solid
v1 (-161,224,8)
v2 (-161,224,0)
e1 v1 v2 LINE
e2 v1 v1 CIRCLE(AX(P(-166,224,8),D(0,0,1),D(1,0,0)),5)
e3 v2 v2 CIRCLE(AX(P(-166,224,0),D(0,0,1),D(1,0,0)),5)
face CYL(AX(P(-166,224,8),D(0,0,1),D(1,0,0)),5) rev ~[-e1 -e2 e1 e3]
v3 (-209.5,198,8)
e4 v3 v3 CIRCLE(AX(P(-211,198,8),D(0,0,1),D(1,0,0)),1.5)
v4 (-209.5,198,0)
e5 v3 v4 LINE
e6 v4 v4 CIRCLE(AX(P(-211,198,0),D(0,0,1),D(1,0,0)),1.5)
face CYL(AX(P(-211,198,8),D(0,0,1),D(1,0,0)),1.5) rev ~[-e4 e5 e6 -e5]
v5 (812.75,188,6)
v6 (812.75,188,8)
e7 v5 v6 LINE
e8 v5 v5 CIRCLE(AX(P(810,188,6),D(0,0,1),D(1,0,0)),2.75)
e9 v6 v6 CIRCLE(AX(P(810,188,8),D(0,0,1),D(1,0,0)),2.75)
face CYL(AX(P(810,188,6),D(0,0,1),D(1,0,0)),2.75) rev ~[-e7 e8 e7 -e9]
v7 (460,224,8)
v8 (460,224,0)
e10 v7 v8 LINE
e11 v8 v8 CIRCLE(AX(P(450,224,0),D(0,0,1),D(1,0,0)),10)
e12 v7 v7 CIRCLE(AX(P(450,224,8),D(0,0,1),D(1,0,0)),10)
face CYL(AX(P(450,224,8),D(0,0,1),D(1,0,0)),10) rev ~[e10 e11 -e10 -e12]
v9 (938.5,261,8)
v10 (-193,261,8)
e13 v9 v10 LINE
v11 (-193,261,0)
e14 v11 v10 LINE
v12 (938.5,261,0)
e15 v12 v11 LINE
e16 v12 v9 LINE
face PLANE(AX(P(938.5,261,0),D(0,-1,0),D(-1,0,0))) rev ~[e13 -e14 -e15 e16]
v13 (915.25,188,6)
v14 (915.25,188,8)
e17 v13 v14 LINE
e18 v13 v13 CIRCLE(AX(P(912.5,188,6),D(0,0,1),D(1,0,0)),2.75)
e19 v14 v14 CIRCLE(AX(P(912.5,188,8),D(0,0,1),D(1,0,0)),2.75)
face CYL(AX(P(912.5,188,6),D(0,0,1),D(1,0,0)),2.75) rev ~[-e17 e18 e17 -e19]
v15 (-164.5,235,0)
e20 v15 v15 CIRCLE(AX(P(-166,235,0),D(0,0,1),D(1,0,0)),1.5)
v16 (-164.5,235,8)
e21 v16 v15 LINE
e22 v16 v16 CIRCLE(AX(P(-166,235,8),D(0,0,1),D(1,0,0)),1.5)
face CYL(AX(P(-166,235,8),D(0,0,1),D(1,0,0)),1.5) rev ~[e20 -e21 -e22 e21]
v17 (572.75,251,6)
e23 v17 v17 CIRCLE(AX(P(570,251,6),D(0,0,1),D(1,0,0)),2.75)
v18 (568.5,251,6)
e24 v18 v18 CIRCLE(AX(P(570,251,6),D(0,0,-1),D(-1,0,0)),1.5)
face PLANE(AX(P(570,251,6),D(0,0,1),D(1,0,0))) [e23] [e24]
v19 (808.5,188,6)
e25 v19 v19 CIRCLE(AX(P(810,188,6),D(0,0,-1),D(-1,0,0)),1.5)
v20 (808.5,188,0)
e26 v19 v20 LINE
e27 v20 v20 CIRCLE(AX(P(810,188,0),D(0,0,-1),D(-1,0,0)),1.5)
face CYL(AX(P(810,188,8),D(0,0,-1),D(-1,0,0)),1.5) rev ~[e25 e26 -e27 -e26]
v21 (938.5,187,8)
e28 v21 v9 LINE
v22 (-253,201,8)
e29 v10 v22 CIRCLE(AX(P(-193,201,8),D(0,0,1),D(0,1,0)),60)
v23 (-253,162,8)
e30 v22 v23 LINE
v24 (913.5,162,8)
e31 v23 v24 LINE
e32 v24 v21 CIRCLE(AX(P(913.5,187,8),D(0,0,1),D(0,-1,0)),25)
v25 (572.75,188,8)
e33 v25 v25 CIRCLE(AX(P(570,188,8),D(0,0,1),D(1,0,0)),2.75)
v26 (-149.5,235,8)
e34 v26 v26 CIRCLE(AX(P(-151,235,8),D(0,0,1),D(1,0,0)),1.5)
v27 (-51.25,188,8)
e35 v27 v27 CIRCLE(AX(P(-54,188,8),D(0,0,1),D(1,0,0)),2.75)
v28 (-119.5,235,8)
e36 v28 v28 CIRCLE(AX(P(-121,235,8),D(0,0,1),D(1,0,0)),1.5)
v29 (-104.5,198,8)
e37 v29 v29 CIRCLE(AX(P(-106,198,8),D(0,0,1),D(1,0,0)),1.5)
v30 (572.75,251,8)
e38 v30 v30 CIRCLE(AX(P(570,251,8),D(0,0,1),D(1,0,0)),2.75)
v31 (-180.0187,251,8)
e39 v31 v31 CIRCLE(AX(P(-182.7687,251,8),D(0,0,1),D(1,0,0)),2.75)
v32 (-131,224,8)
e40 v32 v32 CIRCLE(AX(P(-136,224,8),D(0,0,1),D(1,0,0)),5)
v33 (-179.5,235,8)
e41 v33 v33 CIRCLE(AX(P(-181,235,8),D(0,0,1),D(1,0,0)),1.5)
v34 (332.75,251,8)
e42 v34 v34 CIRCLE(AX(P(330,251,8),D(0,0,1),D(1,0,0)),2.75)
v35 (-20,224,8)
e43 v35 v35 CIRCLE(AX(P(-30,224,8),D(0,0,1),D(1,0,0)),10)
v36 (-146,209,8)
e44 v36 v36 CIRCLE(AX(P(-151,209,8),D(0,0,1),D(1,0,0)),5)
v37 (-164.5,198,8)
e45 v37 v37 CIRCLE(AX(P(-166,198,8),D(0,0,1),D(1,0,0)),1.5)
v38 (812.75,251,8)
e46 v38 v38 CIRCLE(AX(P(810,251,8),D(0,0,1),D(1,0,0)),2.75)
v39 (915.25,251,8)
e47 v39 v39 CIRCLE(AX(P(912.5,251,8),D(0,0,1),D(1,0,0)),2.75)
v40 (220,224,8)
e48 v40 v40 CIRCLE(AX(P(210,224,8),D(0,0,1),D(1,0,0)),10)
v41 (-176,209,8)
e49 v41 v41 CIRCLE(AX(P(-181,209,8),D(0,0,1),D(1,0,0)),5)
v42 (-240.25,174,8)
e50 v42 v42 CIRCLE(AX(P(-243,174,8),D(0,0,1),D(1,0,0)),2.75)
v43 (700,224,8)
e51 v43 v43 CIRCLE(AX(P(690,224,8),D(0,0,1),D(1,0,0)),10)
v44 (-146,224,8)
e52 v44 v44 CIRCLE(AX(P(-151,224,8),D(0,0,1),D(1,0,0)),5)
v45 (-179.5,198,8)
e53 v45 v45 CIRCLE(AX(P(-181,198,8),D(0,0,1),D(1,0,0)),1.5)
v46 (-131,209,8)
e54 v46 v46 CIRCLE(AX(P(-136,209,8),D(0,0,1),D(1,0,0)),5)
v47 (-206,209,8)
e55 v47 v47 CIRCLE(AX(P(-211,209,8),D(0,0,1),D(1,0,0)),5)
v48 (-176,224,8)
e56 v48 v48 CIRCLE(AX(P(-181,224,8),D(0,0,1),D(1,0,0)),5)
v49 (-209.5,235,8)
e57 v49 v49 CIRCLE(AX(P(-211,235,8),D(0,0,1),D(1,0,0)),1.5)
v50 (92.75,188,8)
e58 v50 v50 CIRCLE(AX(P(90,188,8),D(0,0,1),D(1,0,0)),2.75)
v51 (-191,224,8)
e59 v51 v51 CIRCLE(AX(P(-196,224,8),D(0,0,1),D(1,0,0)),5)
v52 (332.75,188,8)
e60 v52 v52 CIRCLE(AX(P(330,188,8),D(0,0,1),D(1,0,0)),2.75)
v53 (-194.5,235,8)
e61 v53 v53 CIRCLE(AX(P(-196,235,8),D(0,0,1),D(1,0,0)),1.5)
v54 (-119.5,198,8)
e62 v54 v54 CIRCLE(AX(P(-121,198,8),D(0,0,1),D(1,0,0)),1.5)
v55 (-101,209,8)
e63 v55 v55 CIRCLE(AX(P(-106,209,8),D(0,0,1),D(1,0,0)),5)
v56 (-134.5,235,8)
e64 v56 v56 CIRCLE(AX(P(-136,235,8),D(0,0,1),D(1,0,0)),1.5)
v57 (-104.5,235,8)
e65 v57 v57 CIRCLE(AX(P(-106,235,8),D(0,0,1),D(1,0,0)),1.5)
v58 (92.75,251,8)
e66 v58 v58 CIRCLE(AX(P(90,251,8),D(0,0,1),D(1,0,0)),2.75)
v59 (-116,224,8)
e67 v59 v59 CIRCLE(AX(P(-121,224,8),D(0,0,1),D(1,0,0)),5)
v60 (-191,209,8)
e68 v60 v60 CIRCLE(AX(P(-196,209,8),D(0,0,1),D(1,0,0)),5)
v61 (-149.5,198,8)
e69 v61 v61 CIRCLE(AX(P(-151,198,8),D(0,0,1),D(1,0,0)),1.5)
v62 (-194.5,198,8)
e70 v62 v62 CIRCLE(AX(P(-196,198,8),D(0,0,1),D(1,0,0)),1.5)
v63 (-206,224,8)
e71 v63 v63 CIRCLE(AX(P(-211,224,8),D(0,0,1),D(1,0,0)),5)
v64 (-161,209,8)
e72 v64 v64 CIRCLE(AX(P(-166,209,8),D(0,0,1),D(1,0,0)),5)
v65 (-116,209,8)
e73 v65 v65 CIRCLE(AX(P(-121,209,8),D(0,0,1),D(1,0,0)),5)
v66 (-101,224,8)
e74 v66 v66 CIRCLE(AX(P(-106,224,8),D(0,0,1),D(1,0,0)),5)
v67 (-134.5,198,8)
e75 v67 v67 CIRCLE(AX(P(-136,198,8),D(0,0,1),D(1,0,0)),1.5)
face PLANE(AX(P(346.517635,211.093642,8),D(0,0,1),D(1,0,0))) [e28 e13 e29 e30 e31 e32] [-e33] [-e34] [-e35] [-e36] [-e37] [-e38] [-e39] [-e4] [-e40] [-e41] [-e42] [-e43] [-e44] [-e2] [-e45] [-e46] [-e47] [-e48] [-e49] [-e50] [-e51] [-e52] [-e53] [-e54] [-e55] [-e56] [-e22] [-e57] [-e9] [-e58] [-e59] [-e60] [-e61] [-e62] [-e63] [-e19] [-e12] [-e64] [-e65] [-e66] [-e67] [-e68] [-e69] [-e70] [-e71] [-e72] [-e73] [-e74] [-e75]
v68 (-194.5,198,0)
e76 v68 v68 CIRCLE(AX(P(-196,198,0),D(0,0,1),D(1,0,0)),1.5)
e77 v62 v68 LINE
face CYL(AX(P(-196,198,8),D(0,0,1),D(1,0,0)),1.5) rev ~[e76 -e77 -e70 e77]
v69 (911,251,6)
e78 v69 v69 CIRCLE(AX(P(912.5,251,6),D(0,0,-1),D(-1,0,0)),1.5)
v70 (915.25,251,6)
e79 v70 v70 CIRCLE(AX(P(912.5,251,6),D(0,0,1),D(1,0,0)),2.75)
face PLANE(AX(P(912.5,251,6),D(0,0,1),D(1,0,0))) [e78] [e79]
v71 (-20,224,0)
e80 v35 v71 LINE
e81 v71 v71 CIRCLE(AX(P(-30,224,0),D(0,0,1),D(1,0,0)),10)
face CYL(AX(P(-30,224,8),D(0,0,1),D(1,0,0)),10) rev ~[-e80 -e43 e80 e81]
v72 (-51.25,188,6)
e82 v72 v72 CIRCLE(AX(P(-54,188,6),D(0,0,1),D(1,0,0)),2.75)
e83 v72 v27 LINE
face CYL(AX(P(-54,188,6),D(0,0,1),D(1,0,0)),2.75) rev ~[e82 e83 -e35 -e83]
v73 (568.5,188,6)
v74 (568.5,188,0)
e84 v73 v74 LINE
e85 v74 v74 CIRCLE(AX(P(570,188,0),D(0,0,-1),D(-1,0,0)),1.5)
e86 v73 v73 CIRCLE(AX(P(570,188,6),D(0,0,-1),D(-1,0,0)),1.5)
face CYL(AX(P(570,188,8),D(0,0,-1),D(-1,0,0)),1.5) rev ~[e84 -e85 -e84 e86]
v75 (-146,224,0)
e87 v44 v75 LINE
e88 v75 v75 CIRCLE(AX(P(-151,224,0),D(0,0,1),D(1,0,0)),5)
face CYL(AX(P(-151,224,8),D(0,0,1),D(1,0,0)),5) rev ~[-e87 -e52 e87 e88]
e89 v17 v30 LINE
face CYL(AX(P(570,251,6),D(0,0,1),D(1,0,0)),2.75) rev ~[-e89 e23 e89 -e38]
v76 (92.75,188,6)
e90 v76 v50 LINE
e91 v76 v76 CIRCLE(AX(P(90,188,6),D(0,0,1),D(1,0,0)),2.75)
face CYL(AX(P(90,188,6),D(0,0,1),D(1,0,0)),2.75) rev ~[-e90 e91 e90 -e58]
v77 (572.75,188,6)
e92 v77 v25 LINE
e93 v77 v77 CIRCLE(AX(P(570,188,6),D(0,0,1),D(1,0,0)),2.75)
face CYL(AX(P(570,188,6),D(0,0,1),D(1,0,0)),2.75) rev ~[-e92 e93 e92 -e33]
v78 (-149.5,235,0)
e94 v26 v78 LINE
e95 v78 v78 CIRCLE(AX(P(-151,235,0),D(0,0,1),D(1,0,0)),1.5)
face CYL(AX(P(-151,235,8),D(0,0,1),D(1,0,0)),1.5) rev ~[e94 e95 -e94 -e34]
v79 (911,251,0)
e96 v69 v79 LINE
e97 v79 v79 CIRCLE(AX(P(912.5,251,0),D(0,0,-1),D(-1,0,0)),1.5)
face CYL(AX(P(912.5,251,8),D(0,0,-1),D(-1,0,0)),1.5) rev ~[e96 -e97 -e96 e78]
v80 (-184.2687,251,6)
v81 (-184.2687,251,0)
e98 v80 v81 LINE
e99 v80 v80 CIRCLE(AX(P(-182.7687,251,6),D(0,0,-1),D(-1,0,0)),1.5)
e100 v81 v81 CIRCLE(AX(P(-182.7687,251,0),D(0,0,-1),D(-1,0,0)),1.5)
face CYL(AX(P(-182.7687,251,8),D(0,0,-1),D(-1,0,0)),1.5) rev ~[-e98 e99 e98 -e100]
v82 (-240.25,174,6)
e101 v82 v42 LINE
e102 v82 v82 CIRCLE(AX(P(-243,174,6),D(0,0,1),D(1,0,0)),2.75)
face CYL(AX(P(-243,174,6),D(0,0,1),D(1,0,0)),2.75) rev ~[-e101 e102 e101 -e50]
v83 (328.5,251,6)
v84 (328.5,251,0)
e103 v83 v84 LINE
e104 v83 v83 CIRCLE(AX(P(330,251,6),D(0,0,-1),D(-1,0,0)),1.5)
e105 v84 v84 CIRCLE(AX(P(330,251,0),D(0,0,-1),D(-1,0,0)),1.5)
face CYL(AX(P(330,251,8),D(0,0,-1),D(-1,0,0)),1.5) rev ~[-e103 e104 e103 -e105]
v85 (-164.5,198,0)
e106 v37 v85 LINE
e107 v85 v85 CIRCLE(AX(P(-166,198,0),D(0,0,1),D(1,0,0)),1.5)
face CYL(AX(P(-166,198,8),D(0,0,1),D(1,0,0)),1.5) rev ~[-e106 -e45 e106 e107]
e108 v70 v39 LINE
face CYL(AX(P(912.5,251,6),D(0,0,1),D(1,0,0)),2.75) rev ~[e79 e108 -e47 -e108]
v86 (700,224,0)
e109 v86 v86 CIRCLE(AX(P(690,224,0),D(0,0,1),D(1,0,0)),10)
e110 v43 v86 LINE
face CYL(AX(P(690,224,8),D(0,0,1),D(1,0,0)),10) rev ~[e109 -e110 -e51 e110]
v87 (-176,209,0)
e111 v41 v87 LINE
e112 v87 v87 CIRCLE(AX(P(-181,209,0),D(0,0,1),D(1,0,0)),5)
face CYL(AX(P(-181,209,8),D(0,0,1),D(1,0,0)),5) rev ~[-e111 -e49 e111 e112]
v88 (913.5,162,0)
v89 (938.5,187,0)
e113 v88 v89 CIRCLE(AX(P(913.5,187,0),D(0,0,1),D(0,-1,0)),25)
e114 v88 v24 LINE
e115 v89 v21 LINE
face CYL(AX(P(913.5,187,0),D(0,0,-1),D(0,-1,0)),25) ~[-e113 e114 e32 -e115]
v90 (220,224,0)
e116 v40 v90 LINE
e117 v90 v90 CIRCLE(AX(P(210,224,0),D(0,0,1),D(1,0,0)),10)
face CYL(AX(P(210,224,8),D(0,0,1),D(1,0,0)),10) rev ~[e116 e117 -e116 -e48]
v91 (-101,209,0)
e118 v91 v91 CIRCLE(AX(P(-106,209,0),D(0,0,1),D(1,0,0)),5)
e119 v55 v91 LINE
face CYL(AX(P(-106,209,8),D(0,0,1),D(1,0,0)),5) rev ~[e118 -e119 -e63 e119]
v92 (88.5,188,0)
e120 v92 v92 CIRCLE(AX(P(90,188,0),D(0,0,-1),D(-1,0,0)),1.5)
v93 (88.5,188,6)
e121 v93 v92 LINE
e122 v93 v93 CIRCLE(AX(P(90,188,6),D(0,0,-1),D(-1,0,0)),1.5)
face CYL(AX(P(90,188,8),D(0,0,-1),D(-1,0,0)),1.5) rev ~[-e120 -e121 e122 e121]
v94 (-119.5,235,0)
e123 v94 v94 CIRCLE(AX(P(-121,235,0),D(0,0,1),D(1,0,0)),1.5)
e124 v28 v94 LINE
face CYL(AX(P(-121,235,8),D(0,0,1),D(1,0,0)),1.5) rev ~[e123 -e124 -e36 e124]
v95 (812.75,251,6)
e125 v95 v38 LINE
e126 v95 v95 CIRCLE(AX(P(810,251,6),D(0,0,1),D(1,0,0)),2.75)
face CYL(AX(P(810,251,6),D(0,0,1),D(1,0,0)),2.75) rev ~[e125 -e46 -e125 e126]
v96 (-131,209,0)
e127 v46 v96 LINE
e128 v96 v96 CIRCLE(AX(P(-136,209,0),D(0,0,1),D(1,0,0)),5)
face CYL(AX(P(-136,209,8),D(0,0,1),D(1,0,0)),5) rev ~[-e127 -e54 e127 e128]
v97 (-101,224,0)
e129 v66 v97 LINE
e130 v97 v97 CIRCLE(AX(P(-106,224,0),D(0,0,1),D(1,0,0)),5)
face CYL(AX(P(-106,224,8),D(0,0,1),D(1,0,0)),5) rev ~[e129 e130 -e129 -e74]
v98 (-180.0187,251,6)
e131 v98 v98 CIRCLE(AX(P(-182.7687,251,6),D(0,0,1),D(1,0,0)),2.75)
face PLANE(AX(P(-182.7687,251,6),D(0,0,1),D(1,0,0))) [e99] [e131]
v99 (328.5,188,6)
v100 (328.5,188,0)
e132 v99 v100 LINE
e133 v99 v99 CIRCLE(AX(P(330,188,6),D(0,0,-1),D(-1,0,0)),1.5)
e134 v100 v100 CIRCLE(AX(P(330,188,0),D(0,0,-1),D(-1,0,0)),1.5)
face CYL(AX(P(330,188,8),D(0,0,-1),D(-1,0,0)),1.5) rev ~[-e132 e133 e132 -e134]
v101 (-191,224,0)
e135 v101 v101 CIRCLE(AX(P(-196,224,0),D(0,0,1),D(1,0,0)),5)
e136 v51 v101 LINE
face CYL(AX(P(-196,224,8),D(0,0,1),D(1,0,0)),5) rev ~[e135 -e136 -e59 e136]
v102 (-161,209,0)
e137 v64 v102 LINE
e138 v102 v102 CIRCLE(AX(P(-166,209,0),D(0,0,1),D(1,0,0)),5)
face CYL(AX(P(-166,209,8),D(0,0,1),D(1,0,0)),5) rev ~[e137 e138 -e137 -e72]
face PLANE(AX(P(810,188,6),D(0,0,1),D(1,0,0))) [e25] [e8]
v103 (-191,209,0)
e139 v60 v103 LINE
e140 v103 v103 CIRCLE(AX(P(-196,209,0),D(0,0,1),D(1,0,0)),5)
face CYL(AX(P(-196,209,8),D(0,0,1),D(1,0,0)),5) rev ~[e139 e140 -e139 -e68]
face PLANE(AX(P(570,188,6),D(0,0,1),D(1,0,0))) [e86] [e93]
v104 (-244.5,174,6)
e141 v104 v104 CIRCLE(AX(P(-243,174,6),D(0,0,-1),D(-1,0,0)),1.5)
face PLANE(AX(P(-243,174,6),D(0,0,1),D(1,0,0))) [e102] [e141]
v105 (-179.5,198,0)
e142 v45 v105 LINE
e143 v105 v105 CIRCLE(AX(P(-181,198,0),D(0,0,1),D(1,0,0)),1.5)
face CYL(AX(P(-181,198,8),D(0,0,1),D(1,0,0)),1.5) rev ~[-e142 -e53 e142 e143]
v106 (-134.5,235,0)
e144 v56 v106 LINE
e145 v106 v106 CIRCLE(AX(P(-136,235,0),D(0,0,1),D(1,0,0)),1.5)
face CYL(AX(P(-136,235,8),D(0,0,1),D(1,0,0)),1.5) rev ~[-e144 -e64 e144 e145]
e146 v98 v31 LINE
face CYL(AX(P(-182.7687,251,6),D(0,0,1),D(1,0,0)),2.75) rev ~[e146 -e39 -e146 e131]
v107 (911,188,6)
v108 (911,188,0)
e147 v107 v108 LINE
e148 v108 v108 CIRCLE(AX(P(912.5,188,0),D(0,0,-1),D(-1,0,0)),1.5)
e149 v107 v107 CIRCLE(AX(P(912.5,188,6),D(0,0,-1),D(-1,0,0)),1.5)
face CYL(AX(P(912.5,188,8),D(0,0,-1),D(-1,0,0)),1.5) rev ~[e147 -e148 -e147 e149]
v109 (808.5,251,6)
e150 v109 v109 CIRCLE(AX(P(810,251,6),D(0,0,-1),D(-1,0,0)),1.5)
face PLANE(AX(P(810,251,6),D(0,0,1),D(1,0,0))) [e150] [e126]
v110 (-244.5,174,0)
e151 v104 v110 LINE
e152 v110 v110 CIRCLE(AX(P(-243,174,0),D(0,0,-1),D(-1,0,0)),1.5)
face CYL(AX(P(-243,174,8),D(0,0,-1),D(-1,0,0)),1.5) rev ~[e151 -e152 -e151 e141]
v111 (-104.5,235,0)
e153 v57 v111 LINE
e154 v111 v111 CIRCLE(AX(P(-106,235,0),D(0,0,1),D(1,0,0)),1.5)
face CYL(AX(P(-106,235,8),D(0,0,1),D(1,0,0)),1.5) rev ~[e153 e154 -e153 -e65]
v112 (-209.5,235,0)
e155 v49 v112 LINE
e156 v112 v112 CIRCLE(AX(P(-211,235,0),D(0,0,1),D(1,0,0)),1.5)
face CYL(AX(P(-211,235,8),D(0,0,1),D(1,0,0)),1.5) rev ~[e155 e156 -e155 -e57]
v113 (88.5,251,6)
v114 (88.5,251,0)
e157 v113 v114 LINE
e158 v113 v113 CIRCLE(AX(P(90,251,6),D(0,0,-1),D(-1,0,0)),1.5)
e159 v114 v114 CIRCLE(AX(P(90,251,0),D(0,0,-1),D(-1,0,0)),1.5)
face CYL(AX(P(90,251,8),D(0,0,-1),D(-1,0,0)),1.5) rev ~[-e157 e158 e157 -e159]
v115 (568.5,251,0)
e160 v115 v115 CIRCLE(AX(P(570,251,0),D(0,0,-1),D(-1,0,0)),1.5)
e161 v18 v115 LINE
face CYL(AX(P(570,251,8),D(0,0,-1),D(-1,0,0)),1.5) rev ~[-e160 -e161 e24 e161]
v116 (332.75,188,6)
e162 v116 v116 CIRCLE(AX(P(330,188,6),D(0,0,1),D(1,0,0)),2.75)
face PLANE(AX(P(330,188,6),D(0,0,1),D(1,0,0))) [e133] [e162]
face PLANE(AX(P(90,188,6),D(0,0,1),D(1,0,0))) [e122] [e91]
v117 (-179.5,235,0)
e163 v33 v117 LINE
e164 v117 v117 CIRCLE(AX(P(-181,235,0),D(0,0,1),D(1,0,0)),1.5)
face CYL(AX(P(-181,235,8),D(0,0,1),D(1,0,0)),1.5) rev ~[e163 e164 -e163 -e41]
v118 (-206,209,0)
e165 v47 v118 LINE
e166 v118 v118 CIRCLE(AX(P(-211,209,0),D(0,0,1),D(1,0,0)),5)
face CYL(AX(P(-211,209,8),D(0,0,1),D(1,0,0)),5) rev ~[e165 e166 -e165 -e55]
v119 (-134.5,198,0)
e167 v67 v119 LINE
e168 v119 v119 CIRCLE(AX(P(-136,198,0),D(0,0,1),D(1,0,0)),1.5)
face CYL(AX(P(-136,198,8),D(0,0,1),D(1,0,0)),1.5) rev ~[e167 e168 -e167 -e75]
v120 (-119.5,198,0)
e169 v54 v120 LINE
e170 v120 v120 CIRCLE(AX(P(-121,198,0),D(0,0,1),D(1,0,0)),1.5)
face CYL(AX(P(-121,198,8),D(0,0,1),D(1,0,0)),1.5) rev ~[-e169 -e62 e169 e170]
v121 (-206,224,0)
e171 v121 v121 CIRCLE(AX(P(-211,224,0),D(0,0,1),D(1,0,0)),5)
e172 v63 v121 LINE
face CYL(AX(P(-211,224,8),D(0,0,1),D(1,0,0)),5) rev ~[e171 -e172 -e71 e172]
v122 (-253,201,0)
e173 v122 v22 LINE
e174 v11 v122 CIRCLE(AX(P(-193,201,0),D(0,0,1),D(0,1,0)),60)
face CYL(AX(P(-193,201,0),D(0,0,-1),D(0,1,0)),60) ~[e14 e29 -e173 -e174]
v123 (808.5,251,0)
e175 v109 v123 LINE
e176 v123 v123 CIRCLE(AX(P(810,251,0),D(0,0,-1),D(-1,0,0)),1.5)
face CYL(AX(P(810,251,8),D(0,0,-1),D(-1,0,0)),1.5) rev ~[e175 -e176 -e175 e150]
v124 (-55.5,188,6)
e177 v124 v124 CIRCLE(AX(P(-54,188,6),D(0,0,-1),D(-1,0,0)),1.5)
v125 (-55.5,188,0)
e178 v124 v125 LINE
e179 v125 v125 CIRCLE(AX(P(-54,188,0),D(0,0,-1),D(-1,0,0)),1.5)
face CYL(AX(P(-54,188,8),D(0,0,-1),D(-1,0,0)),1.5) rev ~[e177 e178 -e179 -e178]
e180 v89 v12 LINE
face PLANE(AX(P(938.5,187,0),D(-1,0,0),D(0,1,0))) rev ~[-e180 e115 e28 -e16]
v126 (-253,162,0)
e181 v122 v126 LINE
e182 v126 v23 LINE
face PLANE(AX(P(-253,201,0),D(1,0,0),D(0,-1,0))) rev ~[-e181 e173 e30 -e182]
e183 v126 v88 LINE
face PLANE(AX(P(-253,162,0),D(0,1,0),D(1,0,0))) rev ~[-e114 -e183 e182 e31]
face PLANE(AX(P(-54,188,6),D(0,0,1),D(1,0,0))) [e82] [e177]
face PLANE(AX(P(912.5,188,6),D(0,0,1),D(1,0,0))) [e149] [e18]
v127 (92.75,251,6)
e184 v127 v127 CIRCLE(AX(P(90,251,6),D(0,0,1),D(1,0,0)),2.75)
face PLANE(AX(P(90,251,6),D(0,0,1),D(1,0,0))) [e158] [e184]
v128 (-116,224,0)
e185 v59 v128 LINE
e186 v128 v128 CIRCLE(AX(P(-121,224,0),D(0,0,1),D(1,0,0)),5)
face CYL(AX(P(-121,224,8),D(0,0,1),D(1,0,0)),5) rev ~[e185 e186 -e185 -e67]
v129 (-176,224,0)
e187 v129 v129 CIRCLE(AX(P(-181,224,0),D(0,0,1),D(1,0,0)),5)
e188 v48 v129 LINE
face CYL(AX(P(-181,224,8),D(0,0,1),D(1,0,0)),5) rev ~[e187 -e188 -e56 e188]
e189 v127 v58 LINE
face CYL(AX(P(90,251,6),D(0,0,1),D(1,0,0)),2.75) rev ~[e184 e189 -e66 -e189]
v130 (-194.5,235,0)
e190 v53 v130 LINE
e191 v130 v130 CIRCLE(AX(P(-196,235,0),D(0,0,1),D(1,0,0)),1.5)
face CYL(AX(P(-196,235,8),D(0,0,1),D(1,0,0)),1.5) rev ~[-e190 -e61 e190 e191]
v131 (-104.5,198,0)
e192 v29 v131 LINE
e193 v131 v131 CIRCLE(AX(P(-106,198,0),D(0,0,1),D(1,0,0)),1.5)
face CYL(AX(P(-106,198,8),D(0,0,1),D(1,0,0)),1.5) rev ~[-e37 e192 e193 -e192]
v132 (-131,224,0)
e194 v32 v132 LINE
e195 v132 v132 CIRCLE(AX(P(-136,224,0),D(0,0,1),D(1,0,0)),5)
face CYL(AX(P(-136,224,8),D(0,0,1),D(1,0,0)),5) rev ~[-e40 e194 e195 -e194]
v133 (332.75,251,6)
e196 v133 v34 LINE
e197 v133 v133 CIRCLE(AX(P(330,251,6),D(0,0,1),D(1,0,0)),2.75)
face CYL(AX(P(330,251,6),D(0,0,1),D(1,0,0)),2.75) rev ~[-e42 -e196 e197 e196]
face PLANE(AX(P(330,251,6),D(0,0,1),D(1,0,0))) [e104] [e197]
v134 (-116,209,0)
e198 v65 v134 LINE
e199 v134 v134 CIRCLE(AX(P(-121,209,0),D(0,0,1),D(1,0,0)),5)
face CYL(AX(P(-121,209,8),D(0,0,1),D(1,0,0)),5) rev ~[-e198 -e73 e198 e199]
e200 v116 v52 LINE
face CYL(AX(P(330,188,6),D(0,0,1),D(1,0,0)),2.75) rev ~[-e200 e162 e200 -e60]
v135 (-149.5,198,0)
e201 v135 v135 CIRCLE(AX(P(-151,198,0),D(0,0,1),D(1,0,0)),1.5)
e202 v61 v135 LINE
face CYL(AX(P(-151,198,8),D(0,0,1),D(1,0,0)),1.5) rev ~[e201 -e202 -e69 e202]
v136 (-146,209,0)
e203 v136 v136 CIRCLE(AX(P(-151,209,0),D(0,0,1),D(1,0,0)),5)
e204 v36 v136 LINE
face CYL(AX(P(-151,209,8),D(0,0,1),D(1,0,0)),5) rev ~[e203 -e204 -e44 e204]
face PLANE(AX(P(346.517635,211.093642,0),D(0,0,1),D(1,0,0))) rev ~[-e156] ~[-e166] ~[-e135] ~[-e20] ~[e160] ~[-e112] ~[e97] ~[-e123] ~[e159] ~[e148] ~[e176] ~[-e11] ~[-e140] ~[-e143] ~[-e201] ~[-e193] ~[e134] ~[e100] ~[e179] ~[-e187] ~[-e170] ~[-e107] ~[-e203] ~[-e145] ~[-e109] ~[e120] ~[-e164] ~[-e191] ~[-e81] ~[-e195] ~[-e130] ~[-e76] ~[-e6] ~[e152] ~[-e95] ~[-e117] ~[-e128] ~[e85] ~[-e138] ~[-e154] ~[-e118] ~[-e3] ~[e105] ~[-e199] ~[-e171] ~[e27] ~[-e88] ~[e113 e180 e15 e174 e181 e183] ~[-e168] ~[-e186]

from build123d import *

# Parameters (mm, degrees)
BOSS_EXTRU_1_DEPTH                                 = 8
ESQUISSE3_R                                        = 1.5
ESQUISSE3_R_2                                      = 5
ENL_V_MAT_EXTRU_1_DEPTH                            = 9
ESQUISSE4_R                                        = 10
ENL_V_MAT_EXTRU_2_DEPTH                            = 9
CHAMBRAGE_POUR_VIS_T_TE_CYLINDRIQUE_CO_D           = 3
CHAMBRAGE_POUR_VIS_T_TE_CYLINDRIQUE_CO_CBORE_D     = 5.5
CHAMBRAGE_POUR_VIS_T_TE_CYLINDRIQUE_CO_CBORE_DEPTH = 2


with BuildPart() as part:
    # Esquisse1 → Boss.-Extru.1 (new body)
    with BuildSketch(Plane.XY):
        with BuildLine():
            Line((938.5, 261), (-193, 261))
            ThreePointArc((-193, 261), (-235.426406871, 243.426406871), (-253, 201))
            Line((-253, 201), (-253, 162))
            Line((-253, 162), (913.5, 162))
            ThreePointArc((913.5, 162), (931.17766953, 169.32233047), (938.5, 187))
            Line((938.5, 187), (938.5, 261))
        make_face()
    extrude(amount=BOSS_EXTRU_1_DEPTH)

    # Esquisse3 → Enlèv. mat.-Extru.1 (cut, through all)
    with BuildSketch(Plane.XY.offset(8)):
        with Locations((-211, 198)):
            Circle(ESQUISSE3_R)
        with Locations((-211, 209)):
            Circle(ESQUISSE3_R_2)
        with Locations((-211, 224)):
            Circle(ESQUISSE3_R_2)
        with Locations((-211, 235)):
            Circle(ESQUISSE3_R)
        with Locations((-196, 209)):
            Circle(ESQUISSE3_R_2)
        with Locations((-196, 198)):
            Circle(ESQUISSE3_R)
        with Locations((-196, 224)):
            Circle(ESQUISSE3_R_2)
        with Locations((-196, 235)):
            Circle(ESQUISSE3_R)
        with Locations((-181, 209)):
            Circle(ESQUISSE3_R_2)
        with Locations((-181, 198)):
            Circle(ESQUISSE3_R)
        with Locations((-181, 224)):
            Circle(ESQUISSE3_R_2)
        with Locations((-181, 235)):
            Circle(ESQUISSE3_R)
        with Locations((-166, 209)):
            Circle(ESQUISSE3_R_2)
        with Locations((-166, 198)):
            Circle(ESQUISSE3_R)
        with Locations((-166, 224)):
            Circle(ESQUISSE3_R_2)
        with Locations((-166, 235)):
            Circle(ESQUISSE3_R)
        with Locations((-151, 209)):
            Circle(ESQUISSE3_R_2)
        with Locations((-151, 198)):
            Circle(ESQUISSE3_R)
        with Locations((-151, 224)):
            Circle(ESQUISSE3_R_2)
        with Locations((-151, 235)):
            Circle(ESQUISSE3_R)
        with Locations((-136, 209)):
            Circle(ESQUISSE3_R_2)
        with Locations((-136, 198)):
            Circle(ESQUISSE3_R)
        with Locations((-136, 224)):
            Circle(ESQUISSE3_R_2)
        with Locations((-136, 235)):
            Circle(ESQUISSE3_R)
        with Locations((-121, 209)):
            Circle(ESQUISSE3_R_2)
        with Locations((-121, 198)):
            Circle(ESQUISSE3_R)
        with Locations((-121, 224)):
            Circle(ESQUISSE3_R_2)
        with Locations((-121, 235)):
            Circle(ESQUISSE3_R)
        with Locations((-106, 209)):
            Circle(ESQUISSE3_R_2)
        with Locations((-106, 198)):
            Circle(ESQUISSE3_R)
        with Locations((-106, 224)):
            Circle(ESQUISSE3_R_2)
        with Locations((-106, 235)):
            Circle(ESQUISSE3_R)
    extrude(amount=-ENL_V_MAT_EXTRU_1_DEPTH, mode=Mode.SUBTRACT)

    # Esquisse4 → Enlèv. mat.-Extru.2 (cut, through all)
    with BuildSketch(Plane.XY.offset(8)):
        with Locations((-30, 224)):
            Circle(ESQUISSE4_R)
        with Locations((210, 224)):
            Circle(ESQUISSE4_R)
        with Locations((450, 224)):
            Circle(ESQUISSE4_R)
        with Locations((690, 224)):
            Circle(ESQUISSE4_R)
    extrude(amount=-ENL_V_MAT_EXTRU_2_DEPTH, mode=Mode.SUBTRACT)

    # Chambrage pour vis à tête cylindrique courte six pans creux M31 (through all)
    with Locations(Plane.XY.offset(8)):
        with Locations((-54, 188), (90, 188), (330, 188), (570, 188), (810, 188), (912.5, 188), (912.5, 251), (810, 251), (570, 251), (330, 251), (90, 251), (-243, 174), (-182.768699819, 251)):
            CounterBoreHole(CHAMBRAGE_POUR_VIS_T_TE_CYLINDRIQUE_CO_D / 2, CHAMBRAGE_POUR_VIS_T_TE_CYLINDRIQUE_CO_CBORE_D / 2, CHAMBRAGE_POUR_VIS_T_TE_CYLINDRIQUE_CO_CBORE_DEPTH)


solid = part.part
